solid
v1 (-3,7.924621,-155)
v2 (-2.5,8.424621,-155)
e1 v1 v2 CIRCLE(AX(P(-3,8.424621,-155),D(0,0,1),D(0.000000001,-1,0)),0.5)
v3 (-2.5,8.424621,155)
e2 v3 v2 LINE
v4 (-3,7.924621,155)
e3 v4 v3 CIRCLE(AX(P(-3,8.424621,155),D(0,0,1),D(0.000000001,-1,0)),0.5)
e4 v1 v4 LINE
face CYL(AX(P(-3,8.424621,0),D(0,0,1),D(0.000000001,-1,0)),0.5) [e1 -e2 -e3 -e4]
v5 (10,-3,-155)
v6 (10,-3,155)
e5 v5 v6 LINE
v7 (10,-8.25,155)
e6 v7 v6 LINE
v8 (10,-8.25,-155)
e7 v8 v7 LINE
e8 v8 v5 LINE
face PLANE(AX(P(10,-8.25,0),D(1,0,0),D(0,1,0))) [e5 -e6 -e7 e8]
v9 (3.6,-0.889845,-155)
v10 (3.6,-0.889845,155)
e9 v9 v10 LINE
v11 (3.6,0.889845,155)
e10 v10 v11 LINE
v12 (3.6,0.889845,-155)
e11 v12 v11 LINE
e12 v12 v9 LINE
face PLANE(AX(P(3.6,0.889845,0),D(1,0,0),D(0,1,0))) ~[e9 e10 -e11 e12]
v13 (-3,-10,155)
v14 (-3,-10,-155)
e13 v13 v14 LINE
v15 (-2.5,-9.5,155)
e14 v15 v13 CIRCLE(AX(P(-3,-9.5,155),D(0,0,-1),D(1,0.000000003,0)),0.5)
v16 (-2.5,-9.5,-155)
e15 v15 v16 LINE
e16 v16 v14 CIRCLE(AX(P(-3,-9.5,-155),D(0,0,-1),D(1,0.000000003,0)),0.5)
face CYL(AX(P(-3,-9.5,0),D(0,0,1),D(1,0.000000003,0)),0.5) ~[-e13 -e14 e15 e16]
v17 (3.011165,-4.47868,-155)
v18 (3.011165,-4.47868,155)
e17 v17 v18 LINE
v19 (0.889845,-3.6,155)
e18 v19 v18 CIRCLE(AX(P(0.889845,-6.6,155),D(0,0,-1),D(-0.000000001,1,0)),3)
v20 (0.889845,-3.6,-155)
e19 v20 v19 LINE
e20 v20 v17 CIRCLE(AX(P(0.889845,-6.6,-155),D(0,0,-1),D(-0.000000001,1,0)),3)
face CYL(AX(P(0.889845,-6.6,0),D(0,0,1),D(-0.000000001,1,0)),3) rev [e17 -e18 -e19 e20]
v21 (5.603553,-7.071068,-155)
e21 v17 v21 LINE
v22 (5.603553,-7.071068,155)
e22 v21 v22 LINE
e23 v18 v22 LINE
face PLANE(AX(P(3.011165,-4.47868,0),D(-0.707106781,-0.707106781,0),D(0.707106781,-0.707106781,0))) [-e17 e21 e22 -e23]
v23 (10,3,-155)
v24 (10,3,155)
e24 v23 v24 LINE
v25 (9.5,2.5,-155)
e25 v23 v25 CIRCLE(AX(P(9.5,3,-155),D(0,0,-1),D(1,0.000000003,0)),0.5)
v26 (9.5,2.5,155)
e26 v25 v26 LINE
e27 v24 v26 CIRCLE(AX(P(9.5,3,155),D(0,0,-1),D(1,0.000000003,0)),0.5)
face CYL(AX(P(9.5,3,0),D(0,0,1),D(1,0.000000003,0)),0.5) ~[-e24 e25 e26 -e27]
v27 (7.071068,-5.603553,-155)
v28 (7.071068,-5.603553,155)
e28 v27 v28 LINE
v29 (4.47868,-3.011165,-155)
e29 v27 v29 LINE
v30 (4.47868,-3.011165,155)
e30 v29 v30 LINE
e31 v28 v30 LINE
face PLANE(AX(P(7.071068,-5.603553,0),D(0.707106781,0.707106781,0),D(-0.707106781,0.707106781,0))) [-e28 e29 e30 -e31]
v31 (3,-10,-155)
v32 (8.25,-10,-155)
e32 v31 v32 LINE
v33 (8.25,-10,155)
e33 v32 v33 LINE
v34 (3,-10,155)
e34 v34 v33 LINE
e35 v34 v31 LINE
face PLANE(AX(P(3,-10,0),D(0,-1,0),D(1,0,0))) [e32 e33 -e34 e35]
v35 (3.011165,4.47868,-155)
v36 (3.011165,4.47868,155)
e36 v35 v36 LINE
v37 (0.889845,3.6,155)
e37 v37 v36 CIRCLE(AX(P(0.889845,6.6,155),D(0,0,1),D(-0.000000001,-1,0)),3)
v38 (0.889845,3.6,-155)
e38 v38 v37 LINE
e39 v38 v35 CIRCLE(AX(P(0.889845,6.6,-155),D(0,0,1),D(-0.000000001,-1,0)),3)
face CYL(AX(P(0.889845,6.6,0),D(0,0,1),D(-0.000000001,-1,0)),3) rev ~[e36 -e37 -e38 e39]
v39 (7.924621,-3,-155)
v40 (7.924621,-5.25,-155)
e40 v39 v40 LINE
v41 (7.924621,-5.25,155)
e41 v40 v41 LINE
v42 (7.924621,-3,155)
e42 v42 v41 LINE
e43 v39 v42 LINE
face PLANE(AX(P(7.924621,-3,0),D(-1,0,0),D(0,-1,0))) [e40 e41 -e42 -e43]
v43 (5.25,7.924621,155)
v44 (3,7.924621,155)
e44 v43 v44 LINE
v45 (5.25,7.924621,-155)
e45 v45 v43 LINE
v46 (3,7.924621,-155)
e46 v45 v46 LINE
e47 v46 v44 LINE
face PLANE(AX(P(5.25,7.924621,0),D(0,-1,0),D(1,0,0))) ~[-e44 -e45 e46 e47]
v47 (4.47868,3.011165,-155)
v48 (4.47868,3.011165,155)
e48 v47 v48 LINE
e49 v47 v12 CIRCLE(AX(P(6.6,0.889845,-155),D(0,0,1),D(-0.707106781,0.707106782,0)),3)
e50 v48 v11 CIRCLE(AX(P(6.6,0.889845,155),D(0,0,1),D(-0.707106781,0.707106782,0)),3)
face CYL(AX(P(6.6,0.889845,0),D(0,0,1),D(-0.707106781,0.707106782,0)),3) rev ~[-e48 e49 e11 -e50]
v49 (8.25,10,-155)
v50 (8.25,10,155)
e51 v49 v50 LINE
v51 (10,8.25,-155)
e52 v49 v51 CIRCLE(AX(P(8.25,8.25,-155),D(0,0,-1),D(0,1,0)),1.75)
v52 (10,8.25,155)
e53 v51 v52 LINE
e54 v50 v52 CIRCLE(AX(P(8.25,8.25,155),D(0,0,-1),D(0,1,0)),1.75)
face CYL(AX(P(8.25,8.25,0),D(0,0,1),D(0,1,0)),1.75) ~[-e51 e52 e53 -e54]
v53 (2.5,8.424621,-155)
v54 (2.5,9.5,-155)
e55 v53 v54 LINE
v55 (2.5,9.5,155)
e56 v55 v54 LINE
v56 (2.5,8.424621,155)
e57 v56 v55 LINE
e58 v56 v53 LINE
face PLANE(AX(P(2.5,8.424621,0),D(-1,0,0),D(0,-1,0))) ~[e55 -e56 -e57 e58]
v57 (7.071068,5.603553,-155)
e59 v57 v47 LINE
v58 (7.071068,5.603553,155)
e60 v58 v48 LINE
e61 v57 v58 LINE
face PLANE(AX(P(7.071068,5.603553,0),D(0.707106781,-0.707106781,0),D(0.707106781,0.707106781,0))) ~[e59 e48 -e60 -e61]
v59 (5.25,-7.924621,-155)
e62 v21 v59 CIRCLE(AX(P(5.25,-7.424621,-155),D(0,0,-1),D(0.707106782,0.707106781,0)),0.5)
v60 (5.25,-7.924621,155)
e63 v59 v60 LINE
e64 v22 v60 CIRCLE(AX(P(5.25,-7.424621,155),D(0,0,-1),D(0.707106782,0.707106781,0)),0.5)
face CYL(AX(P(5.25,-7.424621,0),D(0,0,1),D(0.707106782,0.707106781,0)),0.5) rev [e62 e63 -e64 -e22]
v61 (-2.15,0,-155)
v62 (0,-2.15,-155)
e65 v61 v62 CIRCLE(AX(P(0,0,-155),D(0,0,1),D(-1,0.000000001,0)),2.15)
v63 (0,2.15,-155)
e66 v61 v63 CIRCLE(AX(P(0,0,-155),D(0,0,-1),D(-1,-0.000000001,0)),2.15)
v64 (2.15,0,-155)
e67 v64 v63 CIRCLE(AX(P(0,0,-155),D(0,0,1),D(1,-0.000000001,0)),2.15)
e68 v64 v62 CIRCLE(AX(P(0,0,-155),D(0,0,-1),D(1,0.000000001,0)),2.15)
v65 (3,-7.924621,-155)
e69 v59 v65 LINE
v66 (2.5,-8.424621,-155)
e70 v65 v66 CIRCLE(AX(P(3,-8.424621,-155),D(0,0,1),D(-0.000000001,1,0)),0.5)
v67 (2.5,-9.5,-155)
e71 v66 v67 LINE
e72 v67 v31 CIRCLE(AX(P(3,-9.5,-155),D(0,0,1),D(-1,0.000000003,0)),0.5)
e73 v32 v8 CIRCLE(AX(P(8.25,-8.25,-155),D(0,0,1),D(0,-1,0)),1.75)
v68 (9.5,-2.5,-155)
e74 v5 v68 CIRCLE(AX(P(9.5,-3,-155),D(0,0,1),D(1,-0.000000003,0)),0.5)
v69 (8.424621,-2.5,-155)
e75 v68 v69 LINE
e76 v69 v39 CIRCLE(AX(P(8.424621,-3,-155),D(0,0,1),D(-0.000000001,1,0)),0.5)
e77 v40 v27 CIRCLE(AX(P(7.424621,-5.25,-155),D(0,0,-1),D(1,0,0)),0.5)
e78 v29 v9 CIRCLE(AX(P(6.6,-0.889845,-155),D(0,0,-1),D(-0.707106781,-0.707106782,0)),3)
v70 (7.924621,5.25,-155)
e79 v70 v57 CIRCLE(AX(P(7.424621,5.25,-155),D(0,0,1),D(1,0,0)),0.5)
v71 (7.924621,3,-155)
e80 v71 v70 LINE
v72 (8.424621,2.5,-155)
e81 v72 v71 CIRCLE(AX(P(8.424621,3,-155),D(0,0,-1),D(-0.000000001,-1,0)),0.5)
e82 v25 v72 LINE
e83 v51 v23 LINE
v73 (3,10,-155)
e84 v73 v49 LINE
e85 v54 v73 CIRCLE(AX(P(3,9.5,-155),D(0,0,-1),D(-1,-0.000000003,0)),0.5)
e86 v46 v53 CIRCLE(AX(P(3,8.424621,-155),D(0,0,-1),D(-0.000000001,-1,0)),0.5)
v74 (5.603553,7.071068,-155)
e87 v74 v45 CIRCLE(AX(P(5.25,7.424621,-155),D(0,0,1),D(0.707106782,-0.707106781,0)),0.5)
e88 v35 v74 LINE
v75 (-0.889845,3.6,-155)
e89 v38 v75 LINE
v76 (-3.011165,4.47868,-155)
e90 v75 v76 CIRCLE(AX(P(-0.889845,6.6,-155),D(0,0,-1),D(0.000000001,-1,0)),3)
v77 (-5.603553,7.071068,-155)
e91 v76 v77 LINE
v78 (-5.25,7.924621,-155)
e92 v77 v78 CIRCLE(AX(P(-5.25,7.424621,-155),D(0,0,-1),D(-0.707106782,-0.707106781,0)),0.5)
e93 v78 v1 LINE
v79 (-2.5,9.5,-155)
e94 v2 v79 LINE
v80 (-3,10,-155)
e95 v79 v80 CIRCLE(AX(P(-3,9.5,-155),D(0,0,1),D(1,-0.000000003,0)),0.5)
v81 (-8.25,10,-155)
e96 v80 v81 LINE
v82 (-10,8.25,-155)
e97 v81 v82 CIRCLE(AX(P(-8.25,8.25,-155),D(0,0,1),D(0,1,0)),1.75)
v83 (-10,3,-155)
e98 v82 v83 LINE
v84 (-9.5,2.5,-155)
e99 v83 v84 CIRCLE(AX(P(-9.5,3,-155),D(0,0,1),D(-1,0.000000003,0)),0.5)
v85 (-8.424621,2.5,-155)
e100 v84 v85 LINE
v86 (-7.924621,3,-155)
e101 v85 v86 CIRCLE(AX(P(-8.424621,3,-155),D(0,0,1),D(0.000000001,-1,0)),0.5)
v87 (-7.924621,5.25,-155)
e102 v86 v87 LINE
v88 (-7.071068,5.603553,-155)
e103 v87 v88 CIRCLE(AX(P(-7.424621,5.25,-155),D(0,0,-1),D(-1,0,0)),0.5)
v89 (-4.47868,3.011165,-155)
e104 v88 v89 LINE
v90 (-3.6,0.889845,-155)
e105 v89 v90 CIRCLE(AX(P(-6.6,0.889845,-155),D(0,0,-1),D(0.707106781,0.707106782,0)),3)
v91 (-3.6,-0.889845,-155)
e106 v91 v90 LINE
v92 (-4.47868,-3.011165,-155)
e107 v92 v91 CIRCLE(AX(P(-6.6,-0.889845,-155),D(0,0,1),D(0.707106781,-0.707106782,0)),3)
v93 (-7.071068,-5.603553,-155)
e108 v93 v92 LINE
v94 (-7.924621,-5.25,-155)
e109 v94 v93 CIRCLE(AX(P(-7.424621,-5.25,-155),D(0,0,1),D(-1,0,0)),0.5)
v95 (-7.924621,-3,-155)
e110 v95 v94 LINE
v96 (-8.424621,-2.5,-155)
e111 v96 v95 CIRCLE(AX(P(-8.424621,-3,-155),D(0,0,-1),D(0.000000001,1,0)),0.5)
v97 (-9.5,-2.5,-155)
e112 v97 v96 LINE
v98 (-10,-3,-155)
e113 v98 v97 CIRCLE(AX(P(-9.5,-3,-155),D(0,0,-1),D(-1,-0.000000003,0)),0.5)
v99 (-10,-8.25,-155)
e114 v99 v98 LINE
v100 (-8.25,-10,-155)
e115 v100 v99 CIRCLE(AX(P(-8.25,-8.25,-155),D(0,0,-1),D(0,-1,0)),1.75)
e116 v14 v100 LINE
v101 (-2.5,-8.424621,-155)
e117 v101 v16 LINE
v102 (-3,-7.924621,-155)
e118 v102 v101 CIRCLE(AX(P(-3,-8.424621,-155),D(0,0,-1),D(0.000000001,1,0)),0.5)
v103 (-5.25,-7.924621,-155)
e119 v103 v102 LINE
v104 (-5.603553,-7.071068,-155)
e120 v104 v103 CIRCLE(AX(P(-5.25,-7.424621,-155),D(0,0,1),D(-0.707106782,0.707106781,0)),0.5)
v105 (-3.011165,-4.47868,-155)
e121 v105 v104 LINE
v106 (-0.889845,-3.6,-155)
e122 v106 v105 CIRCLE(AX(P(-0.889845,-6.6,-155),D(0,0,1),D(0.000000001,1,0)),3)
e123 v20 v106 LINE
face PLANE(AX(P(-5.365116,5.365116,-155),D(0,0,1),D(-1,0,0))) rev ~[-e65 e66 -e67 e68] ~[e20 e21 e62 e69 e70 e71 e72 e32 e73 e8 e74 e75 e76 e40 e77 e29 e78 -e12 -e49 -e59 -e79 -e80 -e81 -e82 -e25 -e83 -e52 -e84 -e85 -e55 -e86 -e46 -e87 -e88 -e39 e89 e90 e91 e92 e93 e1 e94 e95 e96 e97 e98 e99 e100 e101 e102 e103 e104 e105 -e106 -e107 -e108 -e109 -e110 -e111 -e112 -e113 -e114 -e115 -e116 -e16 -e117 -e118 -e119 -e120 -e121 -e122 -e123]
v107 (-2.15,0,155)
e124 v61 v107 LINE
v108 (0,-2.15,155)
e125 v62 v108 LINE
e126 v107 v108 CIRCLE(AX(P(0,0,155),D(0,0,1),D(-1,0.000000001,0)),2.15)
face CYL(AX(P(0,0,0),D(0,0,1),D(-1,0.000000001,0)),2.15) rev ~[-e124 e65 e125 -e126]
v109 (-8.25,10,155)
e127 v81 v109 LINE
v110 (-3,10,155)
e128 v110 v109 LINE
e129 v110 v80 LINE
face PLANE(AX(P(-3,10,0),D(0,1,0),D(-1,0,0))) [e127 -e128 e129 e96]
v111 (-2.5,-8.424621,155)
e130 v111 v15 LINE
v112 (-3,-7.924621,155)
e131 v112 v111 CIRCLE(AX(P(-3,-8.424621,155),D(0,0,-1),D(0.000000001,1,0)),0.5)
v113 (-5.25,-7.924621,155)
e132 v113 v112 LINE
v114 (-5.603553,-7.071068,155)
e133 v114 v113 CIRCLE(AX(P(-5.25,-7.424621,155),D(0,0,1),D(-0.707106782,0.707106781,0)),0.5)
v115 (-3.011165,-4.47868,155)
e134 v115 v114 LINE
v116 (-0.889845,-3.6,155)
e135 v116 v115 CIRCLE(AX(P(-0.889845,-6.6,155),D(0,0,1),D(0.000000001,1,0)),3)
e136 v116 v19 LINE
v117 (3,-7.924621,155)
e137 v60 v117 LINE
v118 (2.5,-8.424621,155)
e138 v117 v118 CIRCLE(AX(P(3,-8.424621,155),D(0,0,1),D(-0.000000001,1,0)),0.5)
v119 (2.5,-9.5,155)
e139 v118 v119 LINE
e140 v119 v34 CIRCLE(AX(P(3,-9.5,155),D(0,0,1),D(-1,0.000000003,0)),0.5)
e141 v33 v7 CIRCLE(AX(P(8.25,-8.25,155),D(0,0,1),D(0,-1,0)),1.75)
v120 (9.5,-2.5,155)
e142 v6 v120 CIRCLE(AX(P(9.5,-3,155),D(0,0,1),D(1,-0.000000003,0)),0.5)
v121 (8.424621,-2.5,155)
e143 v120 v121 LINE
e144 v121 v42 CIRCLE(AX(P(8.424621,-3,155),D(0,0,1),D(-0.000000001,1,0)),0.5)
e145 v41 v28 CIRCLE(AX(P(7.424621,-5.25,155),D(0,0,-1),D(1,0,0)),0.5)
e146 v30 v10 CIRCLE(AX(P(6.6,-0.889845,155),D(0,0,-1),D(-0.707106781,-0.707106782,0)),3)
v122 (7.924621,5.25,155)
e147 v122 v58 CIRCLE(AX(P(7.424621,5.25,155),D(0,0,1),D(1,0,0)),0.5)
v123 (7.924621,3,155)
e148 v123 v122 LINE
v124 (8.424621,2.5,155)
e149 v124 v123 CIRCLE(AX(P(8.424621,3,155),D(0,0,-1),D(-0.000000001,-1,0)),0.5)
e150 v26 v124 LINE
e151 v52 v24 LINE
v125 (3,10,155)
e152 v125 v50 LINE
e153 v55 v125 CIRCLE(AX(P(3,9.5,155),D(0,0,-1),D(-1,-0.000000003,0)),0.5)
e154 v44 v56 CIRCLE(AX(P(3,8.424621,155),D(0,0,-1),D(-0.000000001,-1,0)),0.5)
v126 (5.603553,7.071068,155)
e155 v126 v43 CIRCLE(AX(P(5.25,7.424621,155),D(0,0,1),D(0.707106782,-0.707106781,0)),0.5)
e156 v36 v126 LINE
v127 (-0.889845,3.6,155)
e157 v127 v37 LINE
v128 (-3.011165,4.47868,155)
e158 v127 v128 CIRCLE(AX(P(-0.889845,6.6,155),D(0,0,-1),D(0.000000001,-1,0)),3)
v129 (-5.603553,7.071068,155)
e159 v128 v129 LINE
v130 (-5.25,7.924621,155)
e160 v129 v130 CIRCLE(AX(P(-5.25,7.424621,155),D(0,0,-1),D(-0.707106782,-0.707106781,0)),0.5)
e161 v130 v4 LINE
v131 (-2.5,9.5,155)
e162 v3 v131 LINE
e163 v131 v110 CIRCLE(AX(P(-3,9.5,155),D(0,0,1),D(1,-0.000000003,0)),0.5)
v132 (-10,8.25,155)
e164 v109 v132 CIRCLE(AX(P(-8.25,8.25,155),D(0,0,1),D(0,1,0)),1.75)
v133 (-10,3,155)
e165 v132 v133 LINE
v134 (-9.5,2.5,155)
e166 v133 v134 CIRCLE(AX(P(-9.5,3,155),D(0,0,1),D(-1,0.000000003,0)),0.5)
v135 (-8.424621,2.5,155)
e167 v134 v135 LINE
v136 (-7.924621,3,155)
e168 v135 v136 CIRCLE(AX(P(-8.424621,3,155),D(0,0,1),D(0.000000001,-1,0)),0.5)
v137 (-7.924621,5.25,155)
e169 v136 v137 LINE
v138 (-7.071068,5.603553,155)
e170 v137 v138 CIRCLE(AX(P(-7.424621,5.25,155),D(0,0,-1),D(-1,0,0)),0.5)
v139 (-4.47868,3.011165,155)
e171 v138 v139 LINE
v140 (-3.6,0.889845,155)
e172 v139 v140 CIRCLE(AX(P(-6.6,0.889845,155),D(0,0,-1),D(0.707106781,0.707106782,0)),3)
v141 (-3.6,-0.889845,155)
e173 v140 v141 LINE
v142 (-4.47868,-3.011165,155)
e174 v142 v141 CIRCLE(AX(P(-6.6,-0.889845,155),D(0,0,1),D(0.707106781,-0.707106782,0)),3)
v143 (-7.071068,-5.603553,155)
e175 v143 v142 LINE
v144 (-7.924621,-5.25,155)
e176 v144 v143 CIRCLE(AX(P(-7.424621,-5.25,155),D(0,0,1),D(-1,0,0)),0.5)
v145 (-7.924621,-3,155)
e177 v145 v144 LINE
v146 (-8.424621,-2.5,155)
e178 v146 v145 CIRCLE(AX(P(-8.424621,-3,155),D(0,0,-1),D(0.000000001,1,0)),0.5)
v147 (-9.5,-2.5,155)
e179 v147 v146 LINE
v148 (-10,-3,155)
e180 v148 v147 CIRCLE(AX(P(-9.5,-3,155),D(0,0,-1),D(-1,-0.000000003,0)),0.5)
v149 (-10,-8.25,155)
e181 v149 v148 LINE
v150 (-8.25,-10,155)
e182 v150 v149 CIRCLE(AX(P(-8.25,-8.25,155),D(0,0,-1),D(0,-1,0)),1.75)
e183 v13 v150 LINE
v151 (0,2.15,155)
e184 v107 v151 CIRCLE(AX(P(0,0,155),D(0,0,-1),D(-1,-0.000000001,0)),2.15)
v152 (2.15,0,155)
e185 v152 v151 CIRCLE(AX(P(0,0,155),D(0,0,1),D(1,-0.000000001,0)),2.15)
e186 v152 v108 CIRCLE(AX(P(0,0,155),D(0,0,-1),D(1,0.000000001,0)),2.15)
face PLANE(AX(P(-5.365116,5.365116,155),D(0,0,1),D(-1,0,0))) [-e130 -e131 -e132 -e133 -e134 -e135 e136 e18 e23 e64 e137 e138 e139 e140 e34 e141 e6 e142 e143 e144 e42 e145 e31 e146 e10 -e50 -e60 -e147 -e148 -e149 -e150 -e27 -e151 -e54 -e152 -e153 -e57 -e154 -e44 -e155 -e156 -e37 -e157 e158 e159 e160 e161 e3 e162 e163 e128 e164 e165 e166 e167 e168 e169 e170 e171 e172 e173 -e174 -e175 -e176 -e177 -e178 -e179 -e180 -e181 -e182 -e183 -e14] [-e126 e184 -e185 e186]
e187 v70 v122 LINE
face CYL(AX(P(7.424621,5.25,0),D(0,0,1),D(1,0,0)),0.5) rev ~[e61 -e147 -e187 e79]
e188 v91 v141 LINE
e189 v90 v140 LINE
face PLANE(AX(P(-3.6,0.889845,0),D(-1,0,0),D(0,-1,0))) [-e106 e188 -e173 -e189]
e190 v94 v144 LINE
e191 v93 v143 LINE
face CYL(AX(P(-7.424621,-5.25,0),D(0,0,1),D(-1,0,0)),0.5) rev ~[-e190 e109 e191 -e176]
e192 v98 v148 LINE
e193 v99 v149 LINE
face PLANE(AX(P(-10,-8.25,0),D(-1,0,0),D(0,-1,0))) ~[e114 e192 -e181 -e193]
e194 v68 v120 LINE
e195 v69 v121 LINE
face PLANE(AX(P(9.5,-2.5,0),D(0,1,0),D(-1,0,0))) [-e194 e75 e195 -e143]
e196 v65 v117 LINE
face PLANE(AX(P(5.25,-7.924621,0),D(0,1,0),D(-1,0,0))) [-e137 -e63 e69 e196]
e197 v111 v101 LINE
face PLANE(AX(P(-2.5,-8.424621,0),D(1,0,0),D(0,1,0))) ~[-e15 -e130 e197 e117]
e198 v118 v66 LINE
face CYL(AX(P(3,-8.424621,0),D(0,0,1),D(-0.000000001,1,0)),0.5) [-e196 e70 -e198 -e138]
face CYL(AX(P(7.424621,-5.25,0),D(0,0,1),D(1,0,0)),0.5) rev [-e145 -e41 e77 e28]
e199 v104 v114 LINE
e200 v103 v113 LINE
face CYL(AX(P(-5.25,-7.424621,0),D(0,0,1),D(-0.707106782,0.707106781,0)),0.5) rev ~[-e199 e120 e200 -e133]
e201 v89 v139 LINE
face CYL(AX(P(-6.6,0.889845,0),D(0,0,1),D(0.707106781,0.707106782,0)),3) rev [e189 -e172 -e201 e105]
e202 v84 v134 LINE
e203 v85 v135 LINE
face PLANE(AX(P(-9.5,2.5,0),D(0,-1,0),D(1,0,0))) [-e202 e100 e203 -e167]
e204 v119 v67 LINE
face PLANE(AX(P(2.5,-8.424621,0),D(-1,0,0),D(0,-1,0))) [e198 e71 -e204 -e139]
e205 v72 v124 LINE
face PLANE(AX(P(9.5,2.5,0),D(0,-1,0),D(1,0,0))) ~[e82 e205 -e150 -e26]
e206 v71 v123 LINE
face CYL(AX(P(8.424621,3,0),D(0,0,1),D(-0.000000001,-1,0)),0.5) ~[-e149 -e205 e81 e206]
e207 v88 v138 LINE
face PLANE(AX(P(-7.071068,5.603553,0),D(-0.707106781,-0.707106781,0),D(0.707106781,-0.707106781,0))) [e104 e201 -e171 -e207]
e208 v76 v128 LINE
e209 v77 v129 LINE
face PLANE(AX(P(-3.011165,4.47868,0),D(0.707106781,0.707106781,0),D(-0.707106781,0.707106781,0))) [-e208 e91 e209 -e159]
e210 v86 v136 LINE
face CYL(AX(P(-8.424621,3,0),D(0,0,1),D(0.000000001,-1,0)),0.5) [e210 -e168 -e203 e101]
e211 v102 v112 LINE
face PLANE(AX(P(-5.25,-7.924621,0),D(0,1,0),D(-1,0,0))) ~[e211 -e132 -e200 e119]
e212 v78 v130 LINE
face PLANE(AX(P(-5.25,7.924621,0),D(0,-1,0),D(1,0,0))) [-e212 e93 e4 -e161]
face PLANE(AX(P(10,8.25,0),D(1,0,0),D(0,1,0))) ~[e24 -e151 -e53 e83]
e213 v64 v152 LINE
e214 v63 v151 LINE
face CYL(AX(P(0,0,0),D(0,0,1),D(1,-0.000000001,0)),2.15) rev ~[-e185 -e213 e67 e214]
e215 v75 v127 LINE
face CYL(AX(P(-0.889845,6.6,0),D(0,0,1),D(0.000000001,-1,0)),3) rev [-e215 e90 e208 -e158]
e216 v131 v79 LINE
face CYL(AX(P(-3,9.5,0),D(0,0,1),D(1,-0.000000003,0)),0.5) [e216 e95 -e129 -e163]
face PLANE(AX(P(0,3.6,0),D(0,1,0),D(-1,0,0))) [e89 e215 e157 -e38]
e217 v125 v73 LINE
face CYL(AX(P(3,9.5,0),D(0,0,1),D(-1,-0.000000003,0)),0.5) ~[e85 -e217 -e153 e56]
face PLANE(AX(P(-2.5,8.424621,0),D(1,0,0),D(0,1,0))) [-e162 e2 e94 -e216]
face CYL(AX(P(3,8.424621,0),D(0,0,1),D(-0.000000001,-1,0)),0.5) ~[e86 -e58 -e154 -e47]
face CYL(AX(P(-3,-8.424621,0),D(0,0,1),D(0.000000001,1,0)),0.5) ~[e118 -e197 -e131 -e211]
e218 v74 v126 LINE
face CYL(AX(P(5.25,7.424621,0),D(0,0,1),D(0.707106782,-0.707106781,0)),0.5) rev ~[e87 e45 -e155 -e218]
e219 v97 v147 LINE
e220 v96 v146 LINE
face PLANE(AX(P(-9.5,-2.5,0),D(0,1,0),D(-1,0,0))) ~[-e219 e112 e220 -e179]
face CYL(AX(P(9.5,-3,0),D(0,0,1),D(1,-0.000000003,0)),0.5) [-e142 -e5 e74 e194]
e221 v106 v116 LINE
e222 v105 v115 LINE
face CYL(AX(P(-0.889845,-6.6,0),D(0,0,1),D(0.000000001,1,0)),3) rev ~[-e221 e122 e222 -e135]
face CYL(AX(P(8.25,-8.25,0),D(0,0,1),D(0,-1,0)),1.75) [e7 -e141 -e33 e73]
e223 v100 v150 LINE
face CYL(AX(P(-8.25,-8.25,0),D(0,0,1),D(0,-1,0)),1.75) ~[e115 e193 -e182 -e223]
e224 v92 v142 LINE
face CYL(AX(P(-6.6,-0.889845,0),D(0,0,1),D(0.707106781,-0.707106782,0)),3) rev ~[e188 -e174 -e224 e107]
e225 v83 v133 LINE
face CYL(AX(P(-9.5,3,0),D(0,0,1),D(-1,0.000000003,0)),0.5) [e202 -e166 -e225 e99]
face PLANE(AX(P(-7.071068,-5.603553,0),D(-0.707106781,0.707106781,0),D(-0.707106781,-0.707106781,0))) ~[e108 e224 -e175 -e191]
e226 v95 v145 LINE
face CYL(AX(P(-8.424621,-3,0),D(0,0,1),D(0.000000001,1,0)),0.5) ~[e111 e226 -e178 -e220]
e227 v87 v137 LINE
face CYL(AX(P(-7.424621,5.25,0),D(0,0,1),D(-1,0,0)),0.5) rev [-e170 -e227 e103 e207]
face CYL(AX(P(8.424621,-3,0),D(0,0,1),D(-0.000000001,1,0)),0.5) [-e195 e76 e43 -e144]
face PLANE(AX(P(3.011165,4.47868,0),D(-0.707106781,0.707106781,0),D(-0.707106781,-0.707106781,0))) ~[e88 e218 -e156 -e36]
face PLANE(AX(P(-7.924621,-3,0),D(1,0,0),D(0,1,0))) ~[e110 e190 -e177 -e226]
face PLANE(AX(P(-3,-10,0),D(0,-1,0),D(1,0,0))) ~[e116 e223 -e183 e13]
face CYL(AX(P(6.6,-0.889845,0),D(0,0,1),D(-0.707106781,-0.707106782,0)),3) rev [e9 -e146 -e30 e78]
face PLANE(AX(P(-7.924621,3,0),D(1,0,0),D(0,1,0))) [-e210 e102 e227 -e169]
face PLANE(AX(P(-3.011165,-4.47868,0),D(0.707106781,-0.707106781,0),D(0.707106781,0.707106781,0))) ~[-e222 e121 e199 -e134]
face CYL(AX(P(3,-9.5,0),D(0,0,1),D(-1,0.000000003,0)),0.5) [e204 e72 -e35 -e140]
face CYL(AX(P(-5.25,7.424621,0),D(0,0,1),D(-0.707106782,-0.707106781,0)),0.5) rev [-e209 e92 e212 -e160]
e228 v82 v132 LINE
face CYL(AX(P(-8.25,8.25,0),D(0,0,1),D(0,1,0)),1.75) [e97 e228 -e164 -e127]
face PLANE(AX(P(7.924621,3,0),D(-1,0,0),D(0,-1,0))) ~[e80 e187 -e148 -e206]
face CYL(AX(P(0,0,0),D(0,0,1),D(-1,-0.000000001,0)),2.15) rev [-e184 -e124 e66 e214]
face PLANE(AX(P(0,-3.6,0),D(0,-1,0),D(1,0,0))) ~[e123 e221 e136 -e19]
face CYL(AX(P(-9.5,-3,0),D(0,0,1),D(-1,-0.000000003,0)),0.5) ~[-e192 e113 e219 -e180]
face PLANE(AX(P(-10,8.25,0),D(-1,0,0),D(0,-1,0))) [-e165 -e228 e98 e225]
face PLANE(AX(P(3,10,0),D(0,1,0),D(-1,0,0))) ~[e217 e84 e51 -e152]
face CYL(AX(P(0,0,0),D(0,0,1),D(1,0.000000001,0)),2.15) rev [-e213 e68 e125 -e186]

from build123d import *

# Parameters (mm, degrees)
BOSS_EXTRUDE1_DEPTH = 155


with BuildPart() as part:
    # Sketch4 → Boss-Extrude1 (new, symmetric)
    with BuildSketch(Plane.XY):
        with BuildLine():
            Line((3, -10), (8.25, -10))
            ThreePointArc((8.25, -10), (9.487436867, -9.487436867), (10, -8.25))
            Line((10, -8.25), (10, -3))
            ThreePointArc((10, -3), (9.853553391, -2.646446609), (9.5, -2.5))
            Line((9.5, -2.5), (8.424621202, -2.5))
            ThreePointArc((8.424621202, -2.5), (8.071067812, -2.646446609), (7.924621202, -3))
            Line((7.924621202, -3), (7.924621202, -5.25))
            ThreePointArc((7.924621202, -5.25), (7.615962919, -5.711939766), (7.071067812, -5.603553391))
            Line((7.071067812, -5.603553391), (4.478679656, -3.011165235))
            ThreePointArc((4.478679656, -3.011165235), (3.828361402, -2.037895189), (3.6, -0.889844892))
            Line((3.6, -0.889844892), (3.6, 0))
            Line((3.6, 0), (2.15, 0))
            ThreePointArc((2.15, 0), (1.52027958, -1.52027958), (0, -2.15))
            Line((0, -2.15), (0, -3.6))
            Line((0, -3.6), (0.889844892, -3.6))
            ThreePointArc((0.889844892, -3.6), (2.037895189, -3.828361402), (3.011165235, -4.478679656))
            Line((3.011165235, -4.478679656), (5.603553391, -7.071067812))
            ThreePointArc((5.603553391, -7.071067812), (5.711939766, -7.615962919), (5.25, -7.924621202))
            Line((5.25, -7.924621202), (3, -7.924621202))
            ThreePointArc((3, -7.924621202), (2.646446609, -8.071067812), (2.5, -8.424621202))
            Line((2.5, -8.424621202), (2.5, -9.5))
            ThreePointArc((2.5, -9.5), (2.646446609, -9.853553391), (3, -10))
        make_face()
    extrude(amount=BOSS_EXTRUDE1_DEPTH, both=True)

    # Mirror1: part across plane


with BuildPart() as part_1:
    add(part.part)
    add(part.part.mirror(Plane(origin=(0, 0, 0), x_dir=(0, 0, 1), z_dir=(1, 0, 0))))

    # Mirror2: part across plane


with BuildPart() as part_2:
    add(part_1.part)
    add(part_1.part.mirror(Plane.ZX))


solid = part_2.part
